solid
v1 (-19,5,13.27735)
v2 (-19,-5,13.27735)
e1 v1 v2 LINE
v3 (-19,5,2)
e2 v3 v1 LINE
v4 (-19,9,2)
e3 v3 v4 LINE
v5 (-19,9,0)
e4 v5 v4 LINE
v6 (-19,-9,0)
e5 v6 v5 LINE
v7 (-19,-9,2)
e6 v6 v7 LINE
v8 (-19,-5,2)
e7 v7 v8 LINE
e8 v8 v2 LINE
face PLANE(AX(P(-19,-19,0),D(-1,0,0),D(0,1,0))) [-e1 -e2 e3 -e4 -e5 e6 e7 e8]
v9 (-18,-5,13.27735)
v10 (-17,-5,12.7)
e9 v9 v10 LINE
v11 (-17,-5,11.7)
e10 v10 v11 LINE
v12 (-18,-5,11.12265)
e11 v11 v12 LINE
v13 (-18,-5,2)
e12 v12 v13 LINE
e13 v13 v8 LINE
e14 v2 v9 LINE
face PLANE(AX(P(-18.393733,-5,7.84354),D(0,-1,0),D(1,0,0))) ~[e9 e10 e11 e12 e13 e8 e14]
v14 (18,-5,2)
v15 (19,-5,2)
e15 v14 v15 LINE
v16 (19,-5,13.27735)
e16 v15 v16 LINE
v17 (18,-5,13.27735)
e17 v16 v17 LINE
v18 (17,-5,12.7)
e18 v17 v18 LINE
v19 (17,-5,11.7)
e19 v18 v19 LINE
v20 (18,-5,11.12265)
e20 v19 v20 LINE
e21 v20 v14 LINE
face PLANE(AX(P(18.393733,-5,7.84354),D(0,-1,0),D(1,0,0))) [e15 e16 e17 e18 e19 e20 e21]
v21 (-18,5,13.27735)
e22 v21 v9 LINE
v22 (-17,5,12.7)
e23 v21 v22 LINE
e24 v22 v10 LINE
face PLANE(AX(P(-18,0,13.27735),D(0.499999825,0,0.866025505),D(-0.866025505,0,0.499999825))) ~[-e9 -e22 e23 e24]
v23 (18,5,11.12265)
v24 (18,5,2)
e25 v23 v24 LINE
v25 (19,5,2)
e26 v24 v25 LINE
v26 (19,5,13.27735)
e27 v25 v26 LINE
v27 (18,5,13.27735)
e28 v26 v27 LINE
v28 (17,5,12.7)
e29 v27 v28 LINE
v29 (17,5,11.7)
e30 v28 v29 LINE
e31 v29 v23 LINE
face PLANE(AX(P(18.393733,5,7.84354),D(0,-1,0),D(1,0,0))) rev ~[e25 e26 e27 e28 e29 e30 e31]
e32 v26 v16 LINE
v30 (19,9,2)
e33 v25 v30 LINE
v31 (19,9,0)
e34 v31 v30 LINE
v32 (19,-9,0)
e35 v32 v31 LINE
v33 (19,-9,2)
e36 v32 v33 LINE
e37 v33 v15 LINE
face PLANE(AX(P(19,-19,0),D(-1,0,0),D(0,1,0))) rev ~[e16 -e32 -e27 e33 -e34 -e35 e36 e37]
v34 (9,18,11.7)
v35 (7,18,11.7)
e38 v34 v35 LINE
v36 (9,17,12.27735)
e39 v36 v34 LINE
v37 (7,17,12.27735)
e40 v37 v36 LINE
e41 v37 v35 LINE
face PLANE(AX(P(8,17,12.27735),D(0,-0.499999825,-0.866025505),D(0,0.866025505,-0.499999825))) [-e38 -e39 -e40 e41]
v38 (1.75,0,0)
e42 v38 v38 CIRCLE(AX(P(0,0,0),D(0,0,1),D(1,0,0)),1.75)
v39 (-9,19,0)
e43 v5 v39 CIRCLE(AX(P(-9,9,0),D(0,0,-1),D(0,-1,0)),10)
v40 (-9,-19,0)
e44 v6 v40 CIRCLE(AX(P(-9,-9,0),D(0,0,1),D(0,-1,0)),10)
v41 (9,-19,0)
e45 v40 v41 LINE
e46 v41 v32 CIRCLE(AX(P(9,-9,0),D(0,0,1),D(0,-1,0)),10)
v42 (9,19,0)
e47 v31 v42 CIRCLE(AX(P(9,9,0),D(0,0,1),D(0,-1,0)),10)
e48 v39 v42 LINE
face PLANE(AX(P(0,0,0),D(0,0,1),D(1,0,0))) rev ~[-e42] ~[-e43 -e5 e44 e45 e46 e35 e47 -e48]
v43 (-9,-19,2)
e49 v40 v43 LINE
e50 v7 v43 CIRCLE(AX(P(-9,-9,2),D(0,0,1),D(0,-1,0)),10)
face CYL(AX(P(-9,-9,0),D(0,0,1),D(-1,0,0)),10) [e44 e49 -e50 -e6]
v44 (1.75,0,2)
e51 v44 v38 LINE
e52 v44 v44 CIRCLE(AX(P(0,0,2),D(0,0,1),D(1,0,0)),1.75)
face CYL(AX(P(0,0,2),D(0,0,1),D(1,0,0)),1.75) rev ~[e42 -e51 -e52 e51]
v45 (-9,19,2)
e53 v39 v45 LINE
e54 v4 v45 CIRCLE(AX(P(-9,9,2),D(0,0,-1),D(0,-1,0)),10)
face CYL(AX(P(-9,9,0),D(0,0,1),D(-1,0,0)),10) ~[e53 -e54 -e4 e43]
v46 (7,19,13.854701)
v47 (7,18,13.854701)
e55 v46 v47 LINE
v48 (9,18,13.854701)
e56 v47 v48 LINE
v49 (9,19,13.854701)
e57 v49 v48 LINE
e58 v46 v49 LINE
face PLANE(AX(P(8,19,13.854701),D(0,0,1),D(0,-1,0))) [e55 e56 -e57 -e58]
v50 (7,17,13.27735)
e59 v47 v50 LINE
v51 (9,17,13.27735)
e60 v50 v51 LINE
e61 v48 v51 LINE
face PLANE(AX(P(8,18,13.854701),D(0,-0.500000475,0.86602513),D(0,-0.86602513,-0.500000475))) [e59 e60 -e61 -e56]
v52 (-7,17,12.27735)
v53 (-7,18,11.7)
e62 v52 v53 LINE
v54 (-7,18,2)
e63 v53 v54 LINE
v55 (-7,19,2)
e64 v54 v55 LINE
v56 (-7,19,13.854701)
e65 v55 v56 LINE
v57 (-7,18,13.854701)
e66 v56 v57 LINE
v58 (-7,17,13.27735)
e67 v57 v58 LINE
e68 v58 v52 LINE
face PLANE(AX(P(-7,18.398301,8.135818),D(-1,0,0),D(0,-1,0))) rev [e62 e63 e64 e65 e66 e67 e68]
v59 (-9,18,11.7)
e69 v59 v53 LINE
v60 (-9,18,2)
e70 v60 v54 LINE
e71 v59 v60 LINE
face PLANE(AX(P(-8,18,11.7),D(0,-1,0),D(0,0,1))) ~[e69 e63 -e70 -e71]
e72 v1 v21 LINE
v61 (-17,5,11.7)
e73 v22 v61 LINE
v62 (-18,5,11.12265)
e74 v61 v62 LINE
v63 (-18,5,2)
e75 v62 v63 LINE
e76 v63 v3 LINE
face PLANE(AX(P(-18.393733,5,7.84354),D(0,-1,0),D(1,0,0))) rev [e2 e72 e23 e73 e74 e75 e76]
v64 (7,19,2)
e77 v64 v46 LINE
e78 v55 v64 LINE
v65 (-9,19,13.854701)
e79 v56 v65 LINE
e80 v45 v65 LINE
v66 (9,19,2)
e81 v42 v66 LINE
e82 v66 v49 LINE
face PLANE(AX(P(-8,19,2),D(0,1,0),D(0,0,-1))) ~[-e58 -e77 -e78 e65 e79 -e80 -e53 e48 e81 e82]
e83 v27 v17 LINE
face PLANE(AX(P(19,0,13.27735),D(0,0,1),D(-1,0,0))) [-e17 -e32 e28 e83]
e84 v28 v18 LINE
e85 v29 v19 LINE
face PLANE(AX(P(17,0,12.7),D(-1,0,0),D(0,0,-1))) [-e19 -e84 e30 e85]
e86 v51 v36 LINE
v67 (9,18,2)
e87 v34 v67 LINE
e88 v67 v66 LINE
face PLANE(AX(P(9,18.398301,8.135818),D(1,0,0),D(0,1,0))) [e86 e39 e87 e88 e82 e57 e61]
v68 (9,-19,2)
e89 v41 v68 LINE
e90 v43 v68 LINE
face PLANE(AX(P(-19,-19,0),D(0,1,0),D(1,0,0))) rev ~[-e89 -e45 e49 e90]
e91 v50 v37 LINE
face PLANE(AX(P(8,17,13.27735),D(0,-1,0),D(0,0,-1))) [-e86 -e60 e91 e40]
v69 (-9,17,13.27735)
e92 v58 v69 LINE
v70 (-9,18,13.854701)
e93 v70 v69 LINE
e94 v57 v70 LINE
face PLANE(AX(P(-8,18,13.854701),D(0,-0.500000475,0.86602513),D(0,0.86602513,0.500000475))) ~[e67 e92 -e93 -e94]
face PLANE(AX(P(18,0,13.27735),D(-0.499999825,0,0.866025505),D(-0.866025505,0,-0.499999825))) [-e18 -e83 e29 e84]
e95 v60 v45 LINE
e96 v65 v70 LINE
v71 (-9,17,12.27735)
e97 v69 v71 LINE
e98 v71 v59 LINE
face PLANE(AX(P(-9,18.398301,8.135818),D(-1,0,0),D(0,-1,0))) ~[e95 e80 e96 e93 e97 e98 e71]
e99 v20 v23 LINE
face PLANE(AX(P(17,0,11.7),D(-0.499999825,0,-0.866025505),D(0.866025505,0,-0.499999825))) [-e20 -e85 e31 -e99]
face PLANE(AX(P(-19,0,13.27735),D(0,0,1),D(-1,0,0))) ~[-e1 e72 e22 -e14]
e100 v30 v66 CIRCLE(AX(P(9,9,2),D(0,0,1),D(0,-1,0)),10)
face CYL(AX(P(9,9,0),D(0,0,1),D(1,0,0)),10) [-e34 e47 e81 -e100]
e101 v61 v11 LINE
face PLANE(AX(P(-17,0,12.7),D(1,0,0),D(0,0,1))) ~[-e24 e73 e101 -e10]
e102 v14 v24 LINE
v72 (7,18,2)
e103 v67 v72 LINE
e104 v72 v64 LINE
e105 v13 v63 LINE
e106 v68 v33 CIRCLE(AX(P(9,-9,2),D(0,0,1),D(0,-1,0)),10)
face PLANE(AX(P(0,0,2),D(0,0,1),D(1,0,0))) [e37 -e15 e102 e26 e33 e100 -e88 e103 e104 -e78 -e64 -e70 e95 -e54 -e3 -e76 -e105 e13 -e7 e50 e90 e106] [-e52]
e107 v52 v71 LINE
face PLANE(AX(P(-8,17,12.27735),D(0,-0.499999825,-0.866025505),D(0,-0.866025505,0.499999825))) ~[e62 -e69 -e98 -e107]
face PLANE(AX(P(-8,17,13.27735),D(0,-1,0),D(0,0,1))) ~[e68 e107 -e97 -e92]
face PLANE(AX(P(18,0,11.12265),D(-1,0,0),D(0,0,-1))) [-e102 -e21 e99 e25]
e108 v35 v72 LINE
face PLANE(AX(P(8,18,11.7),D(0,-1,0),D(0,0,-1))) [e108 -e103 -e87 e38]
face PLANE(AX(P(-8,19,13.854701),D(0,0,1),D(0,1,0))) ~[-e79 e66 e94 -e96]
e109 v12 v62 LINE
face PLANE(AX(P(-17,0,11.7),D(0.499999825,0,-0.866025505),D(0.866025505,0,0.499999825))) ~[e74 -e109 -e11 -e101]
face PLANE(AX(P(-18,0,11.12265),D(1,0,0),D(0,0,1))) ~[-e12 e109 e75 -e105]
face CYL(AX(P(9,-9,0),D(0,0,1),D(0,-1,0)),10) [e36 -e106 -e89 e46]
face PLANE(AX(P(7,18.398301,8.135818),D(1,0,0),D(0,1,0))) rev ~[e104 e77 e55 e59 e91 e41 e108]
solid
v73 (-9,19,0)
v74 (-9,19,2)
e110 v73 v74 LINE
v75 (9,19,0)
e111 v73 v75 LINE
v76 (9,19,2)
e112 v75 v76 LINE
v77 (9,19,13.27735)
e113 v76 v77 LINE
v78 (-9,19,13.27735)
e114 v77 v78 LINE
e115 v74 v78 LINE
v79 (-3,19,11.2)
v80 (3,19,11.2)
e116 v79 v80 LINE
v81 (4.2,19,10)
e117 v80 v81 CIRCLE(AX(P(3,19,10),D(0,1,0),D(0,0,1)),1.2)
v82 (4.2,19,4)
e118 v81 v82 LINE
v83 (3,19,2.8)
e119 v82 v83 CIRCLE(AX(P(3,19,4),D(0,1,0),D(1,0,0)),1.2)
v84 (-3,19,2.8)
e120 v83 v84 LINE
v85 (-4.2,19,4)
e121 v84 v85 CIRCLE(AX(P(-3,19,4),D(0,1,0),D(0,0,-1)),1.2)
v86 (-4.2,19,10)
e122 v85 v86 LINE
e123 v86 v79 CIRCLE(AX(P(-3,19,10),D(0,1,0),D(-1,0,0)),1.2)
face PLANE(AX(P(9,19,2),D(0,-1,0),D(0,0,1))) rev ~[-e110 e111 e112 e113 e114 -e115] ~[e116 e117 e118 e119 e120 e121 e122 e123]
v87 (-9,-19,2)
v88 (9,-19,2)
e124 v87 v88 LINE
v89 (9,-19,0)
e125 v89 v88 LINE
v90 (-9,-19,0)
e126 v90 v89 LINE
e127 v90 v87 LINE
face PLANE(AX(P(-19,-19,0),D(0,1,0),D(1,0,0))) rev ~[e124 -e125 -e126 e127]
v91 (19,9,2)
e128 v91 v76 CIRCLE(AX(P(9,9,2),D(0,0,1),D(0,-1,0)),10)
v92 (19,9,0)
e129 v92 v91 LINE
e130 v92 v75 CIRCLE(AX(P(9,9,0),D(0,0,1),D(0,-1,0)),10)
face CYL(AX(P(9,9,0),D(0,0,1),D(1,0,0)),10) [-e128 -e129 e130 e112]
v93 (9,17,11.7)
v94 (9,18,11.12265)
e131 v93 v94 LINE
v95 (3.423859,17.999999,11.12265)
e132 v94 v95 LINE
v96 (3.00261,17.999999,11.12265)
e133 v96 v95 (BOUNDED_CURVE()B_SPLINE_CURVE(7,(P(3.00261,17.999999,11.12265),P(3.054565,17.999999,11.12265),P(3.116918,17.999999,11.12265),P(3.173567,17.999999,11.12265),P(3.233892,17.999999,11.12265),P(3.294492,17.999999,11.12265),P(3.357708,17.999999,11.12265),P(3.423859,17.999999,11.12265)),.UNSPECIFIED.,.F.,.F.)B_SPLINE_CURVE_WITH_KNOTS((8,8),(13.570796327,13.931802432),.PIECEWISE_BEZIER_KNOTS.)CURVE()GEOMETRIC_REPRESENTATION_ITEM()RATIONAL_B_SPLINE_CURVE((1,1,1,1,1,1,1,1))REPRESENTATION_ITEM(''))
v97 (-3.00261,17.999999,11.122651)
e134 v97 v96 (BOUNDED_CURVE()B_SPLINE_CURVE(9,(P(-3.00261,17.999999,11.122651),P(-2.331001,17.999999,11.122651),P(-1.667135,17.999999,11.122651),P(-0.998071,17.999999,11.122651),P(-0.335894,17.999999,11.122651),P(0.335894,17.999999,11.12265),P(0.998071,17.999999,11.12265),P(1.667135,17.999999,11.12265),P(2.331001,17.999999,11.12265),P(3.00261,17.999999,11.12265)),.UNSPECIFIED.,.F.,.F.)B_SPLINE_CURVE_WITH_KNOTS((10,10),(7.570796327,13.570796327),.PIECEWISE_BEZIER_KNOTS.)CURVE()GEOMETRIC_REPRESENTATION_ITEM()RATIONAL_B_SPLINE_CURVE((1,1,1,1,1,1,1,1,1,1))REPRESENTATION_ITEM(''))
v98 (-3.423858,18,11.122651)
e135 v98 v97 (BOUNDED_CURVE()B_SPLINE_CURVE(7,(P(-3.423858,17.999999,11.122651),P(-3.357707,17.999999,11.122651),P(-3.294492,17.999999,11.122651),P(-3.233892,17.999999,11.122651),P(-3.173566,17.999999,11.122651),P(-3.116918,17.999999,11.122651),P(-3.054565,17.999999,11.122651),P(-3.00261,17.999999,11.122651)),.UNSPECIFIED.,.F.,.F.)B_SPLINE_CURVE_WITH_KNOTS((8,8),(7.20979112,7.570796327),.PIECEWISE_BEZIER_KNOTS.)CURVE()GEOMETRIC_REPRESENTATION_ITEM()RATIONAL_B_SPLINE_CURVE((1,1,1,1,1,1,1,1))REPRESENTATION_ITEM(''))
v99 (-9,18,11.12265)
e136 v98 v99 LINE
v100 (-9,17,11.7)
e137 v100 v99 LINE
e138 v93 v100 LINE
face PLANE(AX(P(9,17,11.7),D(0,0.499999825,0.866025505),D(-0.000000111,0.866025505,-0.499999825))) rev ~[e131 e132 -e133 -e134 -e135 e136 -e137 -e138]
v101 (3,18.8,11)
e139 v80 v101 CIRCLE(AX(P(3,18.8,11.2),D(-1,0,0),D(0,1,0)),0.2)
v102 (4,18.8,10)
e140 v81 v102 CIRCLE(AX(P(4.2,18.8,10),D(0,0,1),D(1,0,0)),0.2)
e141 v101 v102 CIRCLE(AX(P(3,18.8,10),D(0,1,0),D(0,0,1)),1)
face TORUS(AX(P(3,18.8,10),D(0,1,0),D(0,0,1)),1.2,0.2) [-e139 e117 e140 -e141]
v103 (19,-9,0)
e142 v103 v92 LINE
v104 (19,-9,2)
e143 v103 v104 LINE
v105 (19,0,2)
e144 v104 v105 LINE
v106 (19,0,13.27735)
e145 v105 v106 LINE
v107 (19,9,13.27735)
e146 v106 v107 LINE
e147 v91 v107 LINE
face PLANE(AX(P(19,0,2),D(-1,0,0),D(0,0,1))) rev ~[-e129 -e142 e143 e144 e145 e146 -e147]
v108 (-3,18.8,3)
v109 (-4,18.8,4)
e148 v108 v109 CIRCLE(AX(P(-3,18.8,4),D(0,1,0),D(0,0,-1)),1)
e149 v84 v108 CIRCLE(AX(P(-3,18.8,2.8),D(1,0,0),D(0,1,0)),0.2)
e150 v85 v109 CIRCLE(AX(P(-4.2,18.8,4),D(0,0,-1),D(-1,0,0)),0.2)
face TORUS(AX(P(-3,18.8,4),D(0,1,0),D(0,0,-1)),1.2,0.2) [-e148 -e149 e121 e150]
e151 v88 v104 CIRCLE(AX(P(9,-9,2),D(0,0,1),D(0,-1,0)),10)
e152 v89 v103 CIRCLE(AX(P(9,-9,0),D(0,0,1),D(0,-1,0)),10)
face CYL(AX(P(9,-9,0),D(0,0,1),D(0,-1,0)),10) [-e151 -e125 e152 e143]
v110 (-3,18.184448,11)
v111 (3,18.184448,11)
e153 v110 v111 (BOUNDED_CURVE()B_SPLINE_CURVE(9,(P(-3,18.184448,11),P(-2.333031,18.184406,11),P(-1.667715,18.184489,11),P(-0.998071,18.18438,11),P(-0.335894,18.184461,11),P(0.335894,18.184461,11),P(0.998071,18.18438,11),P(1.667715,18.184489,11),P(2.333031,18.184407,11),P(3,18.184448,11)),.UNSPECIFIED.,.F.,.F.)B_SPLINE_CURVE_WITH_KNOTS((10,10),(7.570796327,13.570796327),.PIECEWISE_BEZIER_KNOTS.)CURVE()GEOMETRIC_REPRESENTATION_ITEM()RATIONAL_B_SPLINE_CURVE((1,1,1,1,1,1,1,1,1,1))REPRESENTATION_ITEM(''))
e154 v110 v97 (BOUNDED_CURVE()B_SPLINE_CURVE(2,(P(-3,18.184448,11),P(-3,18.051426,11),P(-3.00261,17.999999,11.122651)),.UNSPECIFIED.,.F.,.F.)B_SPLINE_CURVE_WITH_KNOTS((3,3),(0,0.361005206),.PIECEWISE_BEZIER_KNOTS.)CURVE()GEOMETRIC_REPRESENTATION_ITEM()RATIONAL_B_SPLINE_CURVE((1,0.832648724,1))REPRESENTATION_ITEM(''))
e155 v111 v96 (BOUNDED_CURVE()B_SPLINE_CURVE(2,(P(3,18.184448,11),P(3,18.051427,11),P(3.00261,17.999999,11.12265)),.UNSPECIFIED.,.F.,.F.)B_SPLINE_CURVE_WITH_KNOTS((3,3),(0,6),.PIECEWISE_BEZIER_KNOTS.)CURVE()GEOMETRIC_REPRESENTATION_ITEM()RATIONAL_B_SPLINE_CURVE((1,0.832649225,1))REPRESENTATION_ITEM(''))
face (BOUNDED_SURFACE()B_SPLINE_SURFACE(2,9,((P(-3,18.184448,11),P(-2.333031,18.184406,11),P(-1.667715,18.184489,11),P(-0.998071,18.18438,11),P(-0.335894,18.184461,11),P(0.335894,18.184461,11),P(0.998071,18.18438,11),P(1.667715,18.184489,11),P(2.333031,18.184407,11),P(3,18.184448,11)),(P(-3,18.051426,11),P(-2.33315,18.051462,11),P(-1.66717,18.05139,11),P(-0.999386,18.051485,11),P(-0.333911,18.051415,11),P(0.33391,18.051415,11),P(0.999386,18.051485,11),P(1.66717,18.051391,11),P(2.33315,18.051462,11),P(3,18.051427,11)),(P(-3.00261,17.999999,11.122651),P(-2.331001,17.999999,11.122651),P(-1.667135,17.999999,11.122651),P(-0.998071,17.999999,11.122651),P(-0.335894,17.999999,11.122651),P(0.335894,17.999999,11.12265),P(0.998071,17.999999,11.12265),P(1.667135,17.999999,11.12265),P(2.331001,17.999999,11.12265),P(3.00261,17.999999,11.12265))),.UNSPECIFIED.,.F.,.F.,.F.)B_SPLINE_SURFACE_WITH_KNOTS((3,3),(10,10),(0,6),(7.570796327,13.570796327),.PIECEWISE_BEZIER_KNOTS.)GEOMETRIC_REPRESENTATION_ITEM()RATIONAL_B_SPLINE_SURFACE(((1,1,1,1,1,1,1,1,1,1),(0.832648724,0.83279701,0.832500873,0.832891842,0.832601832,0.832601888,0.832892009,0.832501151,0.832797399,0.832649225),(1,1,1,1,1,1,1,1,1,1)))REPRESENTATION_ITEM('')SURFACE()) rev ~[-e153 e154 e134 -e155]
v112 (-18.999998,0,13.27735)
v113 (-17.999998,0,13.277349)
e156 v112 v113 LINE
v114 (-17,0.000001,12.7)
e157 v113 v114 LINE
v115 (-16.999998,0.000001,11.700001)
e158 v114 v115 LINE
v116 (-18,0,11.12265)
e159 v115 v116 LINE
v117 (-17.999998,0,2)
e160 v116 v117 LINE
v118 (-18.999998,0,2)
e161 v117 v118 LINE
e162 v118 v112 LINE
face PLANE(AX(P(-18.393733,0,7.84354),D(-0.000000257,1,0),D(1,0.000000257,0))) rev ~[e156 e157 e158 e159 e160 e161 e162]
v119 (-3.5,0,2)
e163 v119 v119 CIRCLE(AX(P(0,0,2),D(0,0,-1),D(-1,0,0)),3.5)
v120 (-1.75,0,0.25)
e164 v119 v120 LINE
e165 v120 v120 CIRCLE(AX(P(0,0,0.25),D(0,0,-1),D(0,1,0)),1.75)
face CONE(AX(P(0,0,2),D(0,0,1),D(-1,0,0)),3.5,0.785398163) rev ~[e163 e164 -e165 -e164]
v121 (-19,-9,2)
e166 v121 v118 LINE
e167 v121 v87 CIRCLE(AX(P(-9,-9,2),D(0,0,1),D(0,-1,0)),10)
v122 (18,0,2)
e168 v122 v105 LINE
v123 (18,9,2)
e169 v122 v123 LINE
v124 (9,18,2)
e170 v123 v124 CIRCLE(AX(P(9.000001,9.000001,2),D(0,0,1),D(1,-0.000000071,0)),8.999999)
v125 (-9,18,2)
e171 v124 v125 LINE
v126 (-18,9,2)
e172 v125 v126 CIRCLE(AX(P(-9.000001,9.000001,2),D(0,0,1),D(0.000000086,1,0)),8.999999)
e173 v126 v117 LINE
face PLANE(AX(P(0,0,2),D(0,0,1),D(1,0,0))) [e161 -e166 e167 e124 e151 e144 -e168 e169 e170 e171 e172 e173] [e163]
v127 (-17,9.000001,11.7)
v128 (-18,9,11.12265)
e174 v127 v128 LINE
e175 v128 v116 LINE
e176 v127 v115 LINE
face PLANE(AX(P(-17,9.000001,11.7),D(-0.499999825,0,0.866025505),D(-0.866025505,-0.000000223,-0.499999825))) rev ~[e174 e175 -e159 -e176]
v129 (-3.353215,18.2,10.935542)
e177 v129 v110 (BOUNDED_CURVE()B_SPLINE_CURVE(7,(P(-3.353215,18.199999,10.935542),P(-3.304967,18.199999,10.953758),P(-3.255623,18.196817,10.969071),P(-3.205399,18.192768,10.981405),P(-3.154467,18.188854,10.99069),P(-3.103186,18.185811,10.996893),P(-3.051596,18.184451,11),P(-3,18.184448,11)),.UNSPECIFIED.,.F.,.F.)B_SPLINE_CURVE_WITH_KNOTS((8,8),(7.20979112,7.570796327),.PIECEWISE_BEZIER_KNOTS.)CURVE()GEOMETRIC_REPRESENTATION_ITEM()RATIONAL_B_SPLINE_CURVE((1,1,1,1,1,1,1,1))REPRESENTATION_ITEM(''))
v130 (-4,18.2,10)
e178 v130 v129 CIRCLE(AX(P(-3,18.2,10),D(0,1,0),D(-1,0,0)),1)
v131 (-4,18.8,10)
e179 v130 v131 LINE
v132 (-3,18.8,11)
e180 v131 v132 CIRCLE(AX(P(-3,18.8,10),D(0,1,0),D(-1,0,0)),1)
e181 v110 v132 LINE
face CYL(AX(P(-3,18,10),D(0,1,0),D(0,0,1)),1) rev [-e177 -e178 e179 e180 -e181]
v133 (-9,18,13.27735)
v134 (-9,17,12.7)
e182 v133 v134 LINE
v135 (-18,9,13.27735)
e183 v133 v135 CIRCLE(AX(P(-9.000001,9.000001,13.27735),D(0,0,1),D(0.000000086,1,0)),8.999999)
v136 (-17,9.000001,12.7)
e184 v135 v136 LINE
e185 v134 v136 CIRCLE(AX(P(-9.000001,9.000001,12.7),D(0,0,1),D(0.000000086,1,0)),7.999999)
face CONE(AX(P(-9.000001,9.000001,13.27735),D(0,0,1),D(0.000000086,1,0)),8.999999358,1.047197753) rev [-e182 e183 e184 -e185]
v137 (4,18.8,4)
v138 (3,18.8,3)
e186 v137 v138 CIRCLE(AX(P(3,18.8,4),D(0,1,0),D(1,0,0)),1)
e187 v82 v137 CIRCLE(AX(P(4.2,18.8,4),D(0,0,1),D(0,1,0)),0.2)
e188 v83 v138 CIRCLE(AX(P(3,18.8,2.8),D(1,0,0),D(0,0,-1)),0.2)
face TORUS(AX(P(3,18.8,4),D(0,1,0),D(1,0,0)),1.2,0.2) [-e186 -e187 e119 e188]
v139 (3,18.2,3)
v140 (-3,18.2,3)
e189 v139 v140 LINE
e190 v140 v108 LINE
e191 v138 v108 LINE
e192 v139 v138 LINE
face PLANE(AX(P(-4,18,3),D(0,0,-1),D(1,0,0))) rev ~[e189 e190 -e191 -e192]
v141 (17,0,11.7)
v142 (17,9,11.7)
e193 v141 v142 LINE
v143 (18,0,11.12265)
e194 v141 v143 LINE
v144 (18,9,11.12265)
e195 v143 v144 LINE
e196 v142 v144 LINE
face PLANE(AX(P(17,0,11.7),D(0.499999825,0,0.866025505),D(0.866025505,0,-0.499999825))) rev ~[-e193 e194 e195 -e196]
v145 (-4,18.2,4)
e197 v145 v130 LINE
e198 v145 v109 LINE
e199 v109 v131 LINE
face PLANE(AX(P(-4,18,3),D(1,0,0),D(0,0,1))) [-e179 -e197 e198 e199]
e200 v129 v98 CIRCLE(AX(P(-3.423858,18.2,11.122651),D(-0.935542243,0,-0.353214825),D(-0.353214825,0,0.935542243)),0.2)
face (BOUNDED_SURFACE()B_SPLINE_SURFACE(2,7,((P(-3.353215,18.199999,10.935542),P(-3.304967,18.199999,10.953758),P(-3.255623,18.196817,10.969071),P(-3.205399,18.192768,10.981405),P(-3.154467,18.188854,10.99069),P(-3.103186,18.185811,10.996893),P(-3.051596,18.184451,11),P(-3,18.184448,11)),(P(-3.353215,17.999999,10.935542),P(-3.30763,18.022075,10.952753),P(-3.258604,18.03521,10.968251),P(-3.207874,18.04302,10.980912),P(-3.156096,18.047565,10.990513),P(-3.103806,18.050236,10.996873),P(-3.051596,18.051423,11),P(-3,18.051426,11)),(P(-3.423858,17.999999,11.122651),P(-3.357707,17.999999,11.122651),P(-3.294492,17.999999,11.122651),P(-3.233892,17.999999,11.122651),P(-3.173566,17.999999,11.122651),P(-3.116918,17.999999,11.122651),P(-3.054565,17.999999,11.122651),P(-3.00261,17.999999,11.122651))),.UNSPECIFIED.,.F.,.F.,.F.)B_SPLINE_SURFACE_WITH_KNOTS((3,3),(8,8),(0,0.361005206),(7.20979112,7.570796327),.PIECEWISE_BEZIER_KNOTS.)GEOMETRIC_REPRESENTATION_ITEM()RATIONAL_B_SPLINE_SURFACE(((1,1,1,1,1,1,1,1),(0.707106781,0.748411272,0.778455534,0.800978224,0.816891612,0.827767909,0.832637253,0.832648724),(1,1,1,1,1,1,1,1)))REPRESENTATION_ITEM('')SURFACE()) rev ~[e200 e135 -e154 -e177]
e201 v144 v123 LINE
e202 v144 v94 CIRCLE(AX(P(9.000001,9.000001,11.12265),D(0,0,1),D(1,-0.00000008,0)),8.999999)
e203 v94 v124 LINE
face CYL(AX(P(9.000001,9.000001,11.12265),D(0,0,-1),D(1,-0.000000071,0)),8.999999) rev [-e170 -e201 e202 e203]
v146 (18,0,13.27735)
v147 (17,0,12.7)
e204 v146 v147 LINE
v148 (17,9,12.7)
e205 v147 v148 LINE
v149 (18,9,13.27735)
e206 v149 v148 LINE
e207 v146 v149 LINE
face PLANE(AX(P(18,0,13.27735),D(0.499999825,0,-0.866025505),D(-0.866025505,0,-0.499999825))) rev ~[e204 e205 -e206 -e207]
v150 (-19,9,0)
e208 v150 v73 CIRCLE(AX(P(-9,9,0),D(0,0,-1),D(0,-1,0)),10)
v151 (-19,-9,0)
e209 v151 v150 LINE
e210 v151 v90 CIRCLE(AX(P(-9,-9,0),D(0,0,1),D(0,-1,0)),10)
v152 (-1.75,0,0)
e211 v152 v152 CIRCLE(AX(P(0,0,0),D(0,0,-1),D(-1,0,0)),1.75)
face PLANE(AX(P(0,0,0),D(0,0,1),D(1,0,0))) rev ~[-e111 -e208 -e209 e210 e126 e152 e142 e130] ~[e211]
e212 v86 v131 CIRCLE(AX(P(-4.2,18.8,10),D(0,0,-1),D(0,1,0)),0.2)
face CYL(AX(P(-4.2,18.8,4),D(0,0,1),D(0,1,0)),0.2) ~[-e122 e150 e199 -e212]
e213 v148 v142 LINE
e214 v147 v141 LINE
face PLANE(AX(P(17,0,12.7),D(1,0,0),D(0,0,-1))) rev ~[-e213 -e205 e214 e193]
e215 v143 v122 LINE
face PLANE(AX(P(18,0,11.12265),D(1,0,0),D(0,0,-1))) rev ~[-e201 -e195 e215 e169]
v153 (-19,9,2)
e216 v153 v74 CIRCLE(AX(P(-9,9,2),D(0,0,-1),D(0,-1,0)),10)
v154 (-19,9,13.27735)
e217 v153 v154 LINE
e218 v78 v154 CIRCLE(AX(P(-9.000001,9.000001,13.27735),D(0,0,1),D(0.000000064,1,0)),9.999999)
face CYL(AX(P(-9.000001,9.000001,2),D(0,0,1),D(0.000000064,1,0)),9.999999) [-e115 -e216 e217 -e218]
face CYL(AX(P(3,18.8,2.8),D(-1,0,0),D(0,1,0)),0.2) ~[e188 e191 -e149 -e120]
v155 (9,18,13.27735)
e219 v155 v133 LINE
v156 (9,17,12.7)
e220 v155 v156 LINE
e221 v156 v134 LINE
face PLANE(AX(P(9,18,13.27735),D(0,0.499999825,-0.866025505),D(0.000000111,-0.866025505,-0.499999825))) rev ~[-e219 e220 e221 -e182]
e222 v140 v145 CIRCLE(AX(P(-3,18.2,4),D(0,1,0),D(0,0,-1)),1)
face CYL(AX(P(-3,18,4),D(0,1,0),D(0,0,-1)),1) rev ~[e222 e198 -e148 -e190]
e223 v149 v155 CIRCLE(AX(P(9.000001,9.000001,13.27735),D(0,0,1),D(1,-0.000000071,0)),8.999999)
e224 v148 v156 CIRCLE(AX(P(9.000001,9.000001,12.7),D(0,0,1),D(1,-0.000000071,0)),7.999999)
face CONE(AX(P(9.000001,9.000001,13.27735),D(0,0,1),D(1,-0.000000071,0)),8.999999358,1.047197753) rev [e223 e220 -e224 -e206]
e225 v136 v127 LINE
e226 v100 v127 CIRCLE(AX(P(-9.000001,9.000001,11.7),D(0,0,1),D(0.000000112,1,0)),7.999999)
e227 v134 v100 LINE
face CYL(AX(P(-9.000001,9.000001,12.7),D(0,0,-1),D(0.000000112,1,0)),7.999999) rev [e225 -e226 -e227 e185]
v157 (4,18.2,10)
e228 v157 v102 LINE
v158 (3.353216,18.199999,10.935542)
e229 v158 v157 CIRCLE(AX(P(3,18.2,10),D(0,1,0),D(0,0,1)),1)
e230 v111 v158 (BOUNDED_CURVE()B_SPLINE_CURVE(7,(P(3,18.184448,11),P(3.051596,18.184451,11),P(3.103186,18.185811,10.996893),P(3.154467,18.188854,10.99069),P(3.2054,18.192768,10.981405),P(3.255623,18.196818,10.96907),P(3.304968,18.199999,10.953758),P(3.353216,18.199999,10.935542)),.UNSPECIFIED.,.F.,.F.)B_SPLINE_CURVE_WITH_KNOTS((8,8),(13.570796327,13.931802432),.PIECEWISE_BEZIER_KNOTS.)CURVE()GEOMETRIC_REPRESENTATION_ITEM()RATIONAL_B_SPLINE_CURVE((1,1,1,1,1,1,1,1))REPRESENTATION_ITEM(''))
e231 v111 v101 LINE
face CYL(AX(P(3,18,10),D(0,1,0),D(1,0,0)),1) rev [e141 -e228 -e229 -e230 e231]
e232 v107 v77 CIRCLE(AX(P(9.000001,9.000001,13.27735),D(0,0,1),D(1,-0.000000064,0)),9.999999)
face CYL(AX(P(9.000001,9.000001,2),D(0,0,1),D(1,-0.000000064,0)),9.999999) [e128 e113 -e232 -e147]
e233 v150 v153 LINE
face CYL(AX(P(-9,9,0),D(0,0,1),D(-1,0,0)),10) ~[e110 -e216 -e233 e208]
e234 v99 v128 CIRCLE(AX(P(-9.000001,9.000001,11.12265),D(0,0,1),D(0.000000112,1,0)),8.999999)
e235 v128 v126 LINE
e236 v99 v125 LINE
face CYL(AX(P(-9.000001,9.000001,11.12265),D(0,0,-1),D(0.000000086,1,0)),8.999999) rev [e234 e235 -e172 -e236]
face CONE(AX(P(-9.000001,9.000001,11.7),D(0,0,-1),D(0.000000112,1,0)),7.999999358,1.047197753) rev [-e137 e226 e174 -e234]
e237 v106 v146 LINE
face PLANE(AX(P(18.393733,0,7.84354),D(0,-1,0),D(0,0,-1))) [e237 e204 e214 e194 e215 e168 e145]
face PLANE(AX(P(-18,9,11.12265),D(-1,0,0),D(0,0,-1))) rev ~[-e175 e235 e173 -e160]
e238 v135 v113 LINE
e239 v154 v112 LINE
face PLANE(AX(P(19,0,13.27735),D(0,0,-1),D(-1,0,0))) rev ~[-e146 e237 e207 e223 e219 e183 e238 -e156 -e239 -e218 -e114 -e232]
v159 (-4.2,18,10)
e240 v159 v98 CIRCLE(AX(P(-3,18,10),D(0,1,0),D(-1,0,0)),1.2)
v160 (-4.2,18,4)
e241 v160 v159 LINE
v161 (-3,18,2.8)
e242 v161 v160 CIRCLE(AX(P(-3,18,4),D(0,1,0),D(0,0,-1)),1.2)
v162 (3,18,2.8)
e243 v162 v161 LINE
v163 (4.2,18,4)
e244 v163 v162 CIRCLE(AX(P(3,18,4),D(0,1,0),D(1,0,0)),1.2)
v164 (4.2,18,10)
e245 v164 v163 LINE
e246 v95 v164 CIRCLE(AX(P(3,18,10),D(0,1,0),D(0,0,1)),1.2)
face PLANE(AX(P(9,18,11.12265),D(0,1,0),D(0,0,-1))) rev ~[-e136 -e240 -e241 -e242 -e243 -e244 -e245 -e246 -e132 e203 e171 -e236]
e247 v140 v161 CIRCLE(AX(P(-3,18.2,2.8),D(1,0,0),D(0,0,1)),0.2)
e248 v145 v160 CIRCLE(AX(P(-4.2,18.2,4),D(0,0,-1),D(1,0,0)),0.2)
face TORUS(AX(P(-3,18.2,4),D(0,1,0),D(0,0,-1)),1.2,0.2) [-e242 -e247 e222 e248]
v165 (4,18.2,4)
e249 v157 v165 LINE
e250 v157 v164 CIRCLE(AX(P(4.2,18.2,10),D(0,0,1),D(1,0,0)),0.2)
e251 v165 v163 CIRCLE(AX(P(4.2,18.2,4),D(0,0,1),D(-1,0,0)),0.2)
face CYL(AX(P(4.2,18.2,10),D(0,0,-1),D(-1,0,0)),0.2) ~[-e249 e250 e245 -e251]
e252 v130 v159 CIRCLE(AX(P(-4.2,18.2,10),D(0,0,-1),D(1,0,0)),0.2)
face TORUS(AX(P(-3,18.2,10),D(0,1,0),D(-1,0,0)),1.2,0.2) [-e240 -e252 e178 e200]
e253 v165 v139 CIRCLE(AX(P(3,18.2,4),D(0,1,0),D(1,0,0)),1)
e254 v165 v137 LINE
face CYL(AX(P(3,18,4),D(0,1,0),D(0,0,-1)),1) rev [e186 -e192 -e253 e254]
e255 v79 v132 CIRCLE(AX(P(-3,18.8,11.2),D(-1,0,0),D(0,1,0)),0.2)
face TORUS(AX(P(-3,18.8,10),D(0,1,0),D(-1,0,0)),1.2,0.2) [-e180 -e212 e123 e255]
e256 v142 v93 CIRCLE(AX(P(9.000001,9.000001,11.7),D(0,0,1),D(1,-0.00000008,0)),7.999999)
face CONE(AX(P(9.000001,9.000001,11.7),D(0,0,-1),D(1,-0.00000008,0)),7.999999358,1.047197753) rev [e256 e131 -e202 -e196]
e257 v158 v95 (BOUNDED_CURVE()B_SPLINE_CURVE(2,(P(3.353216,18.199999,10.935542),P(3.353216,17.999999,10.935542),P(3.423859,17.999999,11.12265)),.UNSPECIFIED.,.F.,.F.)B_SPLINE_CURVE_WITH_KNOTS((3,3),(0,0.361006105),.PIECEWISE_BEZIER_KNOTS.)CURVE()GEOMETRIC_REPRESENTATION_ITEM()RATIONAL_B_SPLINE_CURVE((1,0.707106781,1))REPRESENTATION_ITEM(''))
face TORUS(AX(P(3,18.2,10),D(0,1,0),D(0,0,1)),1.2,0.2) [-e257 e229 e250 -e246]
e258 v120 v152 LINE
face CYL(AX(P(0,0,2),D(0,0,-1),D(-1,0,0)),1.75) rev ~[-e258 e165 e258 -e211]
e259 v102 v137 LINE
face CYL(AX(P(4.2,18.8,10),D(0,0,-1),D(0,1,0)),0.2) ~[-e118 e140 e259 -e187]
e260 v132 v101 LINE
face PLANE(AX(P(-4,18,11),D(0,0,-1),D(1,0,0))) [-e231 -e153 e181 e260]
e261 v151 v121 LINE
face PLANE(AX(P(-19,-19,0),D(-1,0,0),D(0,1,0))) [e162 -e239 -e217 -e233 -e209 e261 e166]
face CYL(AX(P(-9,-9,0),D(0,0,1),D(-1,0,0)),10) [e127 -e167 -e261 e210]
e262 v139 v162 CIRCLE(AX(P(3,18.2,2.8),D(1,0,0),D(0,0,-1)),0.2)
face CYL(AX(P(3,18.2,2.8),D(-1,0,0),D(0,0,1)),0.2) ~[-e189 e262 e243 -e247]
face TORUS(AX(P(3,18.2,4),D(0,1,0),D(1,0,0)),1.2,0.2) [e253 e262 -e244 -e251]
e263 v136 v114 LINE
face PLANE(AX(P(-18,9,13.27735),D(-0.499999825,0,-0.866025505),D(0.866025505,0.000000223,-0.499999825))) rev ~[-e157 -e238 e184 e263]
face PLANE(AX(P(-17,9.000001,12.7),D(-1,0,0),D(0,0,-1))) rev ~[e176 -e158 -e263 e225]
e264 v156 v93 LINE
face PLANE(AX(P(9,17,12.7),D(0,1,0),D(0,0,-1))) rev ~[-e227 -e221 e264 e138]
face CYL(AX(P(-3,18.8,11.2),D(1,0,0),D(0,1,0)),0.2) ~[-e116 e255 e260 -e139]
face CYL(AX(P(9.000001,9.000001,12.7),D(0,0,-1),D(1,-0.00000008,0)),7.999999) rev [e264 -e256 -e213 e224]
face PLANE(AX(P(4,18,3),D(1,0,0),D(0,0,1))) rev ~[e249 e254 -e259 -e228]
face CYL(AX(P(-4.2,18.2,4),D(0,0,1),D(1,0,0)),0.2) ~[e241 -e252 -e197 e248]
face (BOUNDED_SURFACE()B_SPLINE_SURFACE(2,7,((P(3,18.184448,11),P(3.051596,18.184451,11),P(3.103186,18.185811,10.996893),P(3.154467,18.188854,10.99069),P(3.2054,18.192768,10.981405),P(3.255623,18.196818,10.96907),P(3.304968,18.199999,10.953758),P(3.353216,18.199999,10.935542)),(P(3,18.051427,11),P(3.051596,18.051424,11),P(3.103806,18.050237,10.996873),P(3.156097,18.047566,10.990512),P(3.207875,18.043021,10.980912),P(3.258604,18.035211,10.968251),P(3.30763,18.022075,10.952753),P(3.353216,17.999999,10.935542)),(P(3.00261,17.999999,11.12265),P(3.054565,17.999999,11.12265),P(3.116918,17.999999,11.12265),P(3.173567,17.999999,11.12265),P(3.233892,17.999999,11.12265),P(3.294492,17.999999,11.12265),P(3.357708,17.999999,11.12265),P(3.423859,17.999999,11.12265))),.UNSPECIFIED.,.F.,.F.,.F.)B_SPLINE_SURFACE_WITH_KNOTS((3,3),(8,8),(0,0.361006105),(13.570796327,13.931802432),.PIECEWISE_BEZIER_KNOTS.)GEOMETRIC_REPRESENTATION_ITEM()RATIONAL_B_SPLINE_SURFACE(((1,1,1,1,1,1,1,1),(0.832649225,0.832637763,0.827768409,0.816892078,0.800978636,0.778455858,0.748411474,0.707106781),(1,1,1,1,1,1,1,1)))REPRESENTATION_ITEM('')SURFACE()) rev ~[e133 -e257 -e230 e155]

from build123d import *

# Parameters (mm, degrees)
SKETCH_W            = 38
SKETCH_H            = 38
PAD_DEPTH           = 2
FILLET_R            = 10
PAD001_DEPTH        = 5
SKETCH002_R         = 1.75
HOLE_DEPTH          = 4.125
PAD002_DEPTH        = 1
SKETCH006_W         = 38
SKETCH006_H         = 38
PAD005_DEPTH        = 2
FILLET001_R         = 10
HOLE001_D           = 3.5
HOLE001_DEPTH       = 4.13
HOLE001_CSINK_D     = 7
HOLE001_CSINK_ANGLE = 90
SKETCH009_W         = 8
SKETCH009_H         = 8
POCKET_DEPTH        = 1.001
FILLET002_R         = 1
FILLET003_R         = 0.2


with BuildPart() as body:
    # Sketch → Pad (new body)
    with BuildSketch(Plane.XY):
        Rectangle(SKETCH_W, SKETCH_H)
    extrude(amount=PAD_DEPTH)

    # Fillet
    fillet_edges = [body.edges().sort_by_distance(p)[0] for p in [
        (19, -19, 1),
        (-19, -19, 1),
        (19, 19, 1),
        (-19, 19, 1),
    ]]
    fillet(fillet_edges, radius=FILLET_R)

    # Sketch001 → Pad001 (join, symmetric)
    with BuildSketch(Plane.XZ):
        Polygon((19, 2), (19, 13.27735), (18, 13.27735), (17, 12.7), (17, 11.7), (18, 11.12265), (18, 2), align=None)
    pad001 = extrude(amount=PAD001_DEPTH, both=True)

    # Mirrored: Pad001 across YZ
    add(pad001.mirror(Plane.YZ))

    # Sketch002 (on Face5 of Mirrored) → Hole (cut)
    with BuildSketch(Plane.XY.offset(2)):
        Circle(SKETCH002_R)
    extrude(amount=-HOLE_DEPTH, mode=Mode.SUBTRACT)

    # Sketch003 (on DatumPlane) → Pad002 (join, symmetric)
    with BuildSketch(Plane.YZ.offset(8)):
        Polygon((19, 2), (19, 13.854701), (18, 13.854701), (17, 13.27735), (17, 12.27735), (18, 11.7), (18, 2), align=None)
    pad002 = extrude(amount=PAD002_DEPTH, both=True)

    # Mirrored001: Pad002 across YZ
    add(pad002.mirror(Plane.YZ))


with BuildPart() as body001:
    # Sketch006 → Pad005 (new body)
    with BuildSketch(Plane.XY):
        Rectangle(SKETCH006_W, SKETCH006_H)
    extrude(amount=PAD005_DEPTH)

    # Fillet001
    fillet001_edges = [body001.edges().sort_by_distance(p)[0] for p in [
        (19, -19, 1),
        (-19, -19, 1),
        (19, 19, 1),
        (-19, 19, 1),
    ]]
    fillet(fillet001_edges, radius=FILLET001_R)

    # AdditivePipe: sweep along a path in Sketch007
    with BuildLine(Plane.XY.offset(2)) as additivepipe_path:
        Line((19, 0), (19, 9))
        ThreePointArc((19, 9), (16.071068, 16.071068), (9, 19))
        Line((9, 19), (-9, 19))
        ThreePointArc((-9, 19), (-16.071068, 16.071068), (-19, 9))
        Line((-19, 9), (-19, 0))
    # Sketch004 → AdditivePipe (sweep)
    with BuildSketch(Plane.XZ):
        Polygon((19, 2), (19, 13.27735), (18, 13.27735), (17, 12.7), (17, 11.7), (18, 11.12265), (18, 2), align=None)
    sweep(path=additivepipe_path.line)

    # Hole001
    with Locations(Plane.XY.offset(2)):
        with Locations((0, 0)):
            CounterSinkHole(HOLE001_D / 2, HOLE001_CSINK_D / 2, depth=HOLE001_DEPTH, counter_sink_angle=HOLE001_CSINK_ANGLE)

    # Sketch009 (on Face17 of Hole001) → Pocket (cut, through all)
    with BuildSketch(Plane.XZ.offset(-18)):
        with Locations((0, 7)):
            Rectangle(SKETCH009_W, SKETCH009_H)
    extrude(amount=-POCKET_DEPTH, mode=Mode.SUBTRACT)

    # Fillet002
    fillet002_edges = [body001.edges().sort_by_distance(p)[0] for p in [
        (4, 18.5, 3),
        (-4, 18.5, 3),
        (4, 18.5, 11),
        (-4, 18.5, 11),
    ]]
    fillet(fillet002_edges, radius=FILLET002_R)

    # Fillet003
    fillet003_edges = [body001.edges().sort_by_distance(p)[0] for p in [
        (-4, 18, 7),
        (-3.707107, 18, 10.707107),
        (0, 18, 11),
        (3.707107, 18, 10.707107),
        (4, 18, 7),
        (3.707107, 18, 3.292893),
        (0, 18, 3),
        (-3.707107, 18, 3.292893),
        (0, 19, 11),
        (-3.707107, 19, 10.707107),
        (-4, 19, 7),
        (-3.707107, 19, 3.292893),
        (0, 19, 3),
        (3.707107, 19, 3.292893),
        (4, 19, 7),
        (3.707107, 19, 10.707107),
    ]]
    fillet(fillet003_edges, radius=FILLET003_R)


solid = Compound([body.part, body001.part])
